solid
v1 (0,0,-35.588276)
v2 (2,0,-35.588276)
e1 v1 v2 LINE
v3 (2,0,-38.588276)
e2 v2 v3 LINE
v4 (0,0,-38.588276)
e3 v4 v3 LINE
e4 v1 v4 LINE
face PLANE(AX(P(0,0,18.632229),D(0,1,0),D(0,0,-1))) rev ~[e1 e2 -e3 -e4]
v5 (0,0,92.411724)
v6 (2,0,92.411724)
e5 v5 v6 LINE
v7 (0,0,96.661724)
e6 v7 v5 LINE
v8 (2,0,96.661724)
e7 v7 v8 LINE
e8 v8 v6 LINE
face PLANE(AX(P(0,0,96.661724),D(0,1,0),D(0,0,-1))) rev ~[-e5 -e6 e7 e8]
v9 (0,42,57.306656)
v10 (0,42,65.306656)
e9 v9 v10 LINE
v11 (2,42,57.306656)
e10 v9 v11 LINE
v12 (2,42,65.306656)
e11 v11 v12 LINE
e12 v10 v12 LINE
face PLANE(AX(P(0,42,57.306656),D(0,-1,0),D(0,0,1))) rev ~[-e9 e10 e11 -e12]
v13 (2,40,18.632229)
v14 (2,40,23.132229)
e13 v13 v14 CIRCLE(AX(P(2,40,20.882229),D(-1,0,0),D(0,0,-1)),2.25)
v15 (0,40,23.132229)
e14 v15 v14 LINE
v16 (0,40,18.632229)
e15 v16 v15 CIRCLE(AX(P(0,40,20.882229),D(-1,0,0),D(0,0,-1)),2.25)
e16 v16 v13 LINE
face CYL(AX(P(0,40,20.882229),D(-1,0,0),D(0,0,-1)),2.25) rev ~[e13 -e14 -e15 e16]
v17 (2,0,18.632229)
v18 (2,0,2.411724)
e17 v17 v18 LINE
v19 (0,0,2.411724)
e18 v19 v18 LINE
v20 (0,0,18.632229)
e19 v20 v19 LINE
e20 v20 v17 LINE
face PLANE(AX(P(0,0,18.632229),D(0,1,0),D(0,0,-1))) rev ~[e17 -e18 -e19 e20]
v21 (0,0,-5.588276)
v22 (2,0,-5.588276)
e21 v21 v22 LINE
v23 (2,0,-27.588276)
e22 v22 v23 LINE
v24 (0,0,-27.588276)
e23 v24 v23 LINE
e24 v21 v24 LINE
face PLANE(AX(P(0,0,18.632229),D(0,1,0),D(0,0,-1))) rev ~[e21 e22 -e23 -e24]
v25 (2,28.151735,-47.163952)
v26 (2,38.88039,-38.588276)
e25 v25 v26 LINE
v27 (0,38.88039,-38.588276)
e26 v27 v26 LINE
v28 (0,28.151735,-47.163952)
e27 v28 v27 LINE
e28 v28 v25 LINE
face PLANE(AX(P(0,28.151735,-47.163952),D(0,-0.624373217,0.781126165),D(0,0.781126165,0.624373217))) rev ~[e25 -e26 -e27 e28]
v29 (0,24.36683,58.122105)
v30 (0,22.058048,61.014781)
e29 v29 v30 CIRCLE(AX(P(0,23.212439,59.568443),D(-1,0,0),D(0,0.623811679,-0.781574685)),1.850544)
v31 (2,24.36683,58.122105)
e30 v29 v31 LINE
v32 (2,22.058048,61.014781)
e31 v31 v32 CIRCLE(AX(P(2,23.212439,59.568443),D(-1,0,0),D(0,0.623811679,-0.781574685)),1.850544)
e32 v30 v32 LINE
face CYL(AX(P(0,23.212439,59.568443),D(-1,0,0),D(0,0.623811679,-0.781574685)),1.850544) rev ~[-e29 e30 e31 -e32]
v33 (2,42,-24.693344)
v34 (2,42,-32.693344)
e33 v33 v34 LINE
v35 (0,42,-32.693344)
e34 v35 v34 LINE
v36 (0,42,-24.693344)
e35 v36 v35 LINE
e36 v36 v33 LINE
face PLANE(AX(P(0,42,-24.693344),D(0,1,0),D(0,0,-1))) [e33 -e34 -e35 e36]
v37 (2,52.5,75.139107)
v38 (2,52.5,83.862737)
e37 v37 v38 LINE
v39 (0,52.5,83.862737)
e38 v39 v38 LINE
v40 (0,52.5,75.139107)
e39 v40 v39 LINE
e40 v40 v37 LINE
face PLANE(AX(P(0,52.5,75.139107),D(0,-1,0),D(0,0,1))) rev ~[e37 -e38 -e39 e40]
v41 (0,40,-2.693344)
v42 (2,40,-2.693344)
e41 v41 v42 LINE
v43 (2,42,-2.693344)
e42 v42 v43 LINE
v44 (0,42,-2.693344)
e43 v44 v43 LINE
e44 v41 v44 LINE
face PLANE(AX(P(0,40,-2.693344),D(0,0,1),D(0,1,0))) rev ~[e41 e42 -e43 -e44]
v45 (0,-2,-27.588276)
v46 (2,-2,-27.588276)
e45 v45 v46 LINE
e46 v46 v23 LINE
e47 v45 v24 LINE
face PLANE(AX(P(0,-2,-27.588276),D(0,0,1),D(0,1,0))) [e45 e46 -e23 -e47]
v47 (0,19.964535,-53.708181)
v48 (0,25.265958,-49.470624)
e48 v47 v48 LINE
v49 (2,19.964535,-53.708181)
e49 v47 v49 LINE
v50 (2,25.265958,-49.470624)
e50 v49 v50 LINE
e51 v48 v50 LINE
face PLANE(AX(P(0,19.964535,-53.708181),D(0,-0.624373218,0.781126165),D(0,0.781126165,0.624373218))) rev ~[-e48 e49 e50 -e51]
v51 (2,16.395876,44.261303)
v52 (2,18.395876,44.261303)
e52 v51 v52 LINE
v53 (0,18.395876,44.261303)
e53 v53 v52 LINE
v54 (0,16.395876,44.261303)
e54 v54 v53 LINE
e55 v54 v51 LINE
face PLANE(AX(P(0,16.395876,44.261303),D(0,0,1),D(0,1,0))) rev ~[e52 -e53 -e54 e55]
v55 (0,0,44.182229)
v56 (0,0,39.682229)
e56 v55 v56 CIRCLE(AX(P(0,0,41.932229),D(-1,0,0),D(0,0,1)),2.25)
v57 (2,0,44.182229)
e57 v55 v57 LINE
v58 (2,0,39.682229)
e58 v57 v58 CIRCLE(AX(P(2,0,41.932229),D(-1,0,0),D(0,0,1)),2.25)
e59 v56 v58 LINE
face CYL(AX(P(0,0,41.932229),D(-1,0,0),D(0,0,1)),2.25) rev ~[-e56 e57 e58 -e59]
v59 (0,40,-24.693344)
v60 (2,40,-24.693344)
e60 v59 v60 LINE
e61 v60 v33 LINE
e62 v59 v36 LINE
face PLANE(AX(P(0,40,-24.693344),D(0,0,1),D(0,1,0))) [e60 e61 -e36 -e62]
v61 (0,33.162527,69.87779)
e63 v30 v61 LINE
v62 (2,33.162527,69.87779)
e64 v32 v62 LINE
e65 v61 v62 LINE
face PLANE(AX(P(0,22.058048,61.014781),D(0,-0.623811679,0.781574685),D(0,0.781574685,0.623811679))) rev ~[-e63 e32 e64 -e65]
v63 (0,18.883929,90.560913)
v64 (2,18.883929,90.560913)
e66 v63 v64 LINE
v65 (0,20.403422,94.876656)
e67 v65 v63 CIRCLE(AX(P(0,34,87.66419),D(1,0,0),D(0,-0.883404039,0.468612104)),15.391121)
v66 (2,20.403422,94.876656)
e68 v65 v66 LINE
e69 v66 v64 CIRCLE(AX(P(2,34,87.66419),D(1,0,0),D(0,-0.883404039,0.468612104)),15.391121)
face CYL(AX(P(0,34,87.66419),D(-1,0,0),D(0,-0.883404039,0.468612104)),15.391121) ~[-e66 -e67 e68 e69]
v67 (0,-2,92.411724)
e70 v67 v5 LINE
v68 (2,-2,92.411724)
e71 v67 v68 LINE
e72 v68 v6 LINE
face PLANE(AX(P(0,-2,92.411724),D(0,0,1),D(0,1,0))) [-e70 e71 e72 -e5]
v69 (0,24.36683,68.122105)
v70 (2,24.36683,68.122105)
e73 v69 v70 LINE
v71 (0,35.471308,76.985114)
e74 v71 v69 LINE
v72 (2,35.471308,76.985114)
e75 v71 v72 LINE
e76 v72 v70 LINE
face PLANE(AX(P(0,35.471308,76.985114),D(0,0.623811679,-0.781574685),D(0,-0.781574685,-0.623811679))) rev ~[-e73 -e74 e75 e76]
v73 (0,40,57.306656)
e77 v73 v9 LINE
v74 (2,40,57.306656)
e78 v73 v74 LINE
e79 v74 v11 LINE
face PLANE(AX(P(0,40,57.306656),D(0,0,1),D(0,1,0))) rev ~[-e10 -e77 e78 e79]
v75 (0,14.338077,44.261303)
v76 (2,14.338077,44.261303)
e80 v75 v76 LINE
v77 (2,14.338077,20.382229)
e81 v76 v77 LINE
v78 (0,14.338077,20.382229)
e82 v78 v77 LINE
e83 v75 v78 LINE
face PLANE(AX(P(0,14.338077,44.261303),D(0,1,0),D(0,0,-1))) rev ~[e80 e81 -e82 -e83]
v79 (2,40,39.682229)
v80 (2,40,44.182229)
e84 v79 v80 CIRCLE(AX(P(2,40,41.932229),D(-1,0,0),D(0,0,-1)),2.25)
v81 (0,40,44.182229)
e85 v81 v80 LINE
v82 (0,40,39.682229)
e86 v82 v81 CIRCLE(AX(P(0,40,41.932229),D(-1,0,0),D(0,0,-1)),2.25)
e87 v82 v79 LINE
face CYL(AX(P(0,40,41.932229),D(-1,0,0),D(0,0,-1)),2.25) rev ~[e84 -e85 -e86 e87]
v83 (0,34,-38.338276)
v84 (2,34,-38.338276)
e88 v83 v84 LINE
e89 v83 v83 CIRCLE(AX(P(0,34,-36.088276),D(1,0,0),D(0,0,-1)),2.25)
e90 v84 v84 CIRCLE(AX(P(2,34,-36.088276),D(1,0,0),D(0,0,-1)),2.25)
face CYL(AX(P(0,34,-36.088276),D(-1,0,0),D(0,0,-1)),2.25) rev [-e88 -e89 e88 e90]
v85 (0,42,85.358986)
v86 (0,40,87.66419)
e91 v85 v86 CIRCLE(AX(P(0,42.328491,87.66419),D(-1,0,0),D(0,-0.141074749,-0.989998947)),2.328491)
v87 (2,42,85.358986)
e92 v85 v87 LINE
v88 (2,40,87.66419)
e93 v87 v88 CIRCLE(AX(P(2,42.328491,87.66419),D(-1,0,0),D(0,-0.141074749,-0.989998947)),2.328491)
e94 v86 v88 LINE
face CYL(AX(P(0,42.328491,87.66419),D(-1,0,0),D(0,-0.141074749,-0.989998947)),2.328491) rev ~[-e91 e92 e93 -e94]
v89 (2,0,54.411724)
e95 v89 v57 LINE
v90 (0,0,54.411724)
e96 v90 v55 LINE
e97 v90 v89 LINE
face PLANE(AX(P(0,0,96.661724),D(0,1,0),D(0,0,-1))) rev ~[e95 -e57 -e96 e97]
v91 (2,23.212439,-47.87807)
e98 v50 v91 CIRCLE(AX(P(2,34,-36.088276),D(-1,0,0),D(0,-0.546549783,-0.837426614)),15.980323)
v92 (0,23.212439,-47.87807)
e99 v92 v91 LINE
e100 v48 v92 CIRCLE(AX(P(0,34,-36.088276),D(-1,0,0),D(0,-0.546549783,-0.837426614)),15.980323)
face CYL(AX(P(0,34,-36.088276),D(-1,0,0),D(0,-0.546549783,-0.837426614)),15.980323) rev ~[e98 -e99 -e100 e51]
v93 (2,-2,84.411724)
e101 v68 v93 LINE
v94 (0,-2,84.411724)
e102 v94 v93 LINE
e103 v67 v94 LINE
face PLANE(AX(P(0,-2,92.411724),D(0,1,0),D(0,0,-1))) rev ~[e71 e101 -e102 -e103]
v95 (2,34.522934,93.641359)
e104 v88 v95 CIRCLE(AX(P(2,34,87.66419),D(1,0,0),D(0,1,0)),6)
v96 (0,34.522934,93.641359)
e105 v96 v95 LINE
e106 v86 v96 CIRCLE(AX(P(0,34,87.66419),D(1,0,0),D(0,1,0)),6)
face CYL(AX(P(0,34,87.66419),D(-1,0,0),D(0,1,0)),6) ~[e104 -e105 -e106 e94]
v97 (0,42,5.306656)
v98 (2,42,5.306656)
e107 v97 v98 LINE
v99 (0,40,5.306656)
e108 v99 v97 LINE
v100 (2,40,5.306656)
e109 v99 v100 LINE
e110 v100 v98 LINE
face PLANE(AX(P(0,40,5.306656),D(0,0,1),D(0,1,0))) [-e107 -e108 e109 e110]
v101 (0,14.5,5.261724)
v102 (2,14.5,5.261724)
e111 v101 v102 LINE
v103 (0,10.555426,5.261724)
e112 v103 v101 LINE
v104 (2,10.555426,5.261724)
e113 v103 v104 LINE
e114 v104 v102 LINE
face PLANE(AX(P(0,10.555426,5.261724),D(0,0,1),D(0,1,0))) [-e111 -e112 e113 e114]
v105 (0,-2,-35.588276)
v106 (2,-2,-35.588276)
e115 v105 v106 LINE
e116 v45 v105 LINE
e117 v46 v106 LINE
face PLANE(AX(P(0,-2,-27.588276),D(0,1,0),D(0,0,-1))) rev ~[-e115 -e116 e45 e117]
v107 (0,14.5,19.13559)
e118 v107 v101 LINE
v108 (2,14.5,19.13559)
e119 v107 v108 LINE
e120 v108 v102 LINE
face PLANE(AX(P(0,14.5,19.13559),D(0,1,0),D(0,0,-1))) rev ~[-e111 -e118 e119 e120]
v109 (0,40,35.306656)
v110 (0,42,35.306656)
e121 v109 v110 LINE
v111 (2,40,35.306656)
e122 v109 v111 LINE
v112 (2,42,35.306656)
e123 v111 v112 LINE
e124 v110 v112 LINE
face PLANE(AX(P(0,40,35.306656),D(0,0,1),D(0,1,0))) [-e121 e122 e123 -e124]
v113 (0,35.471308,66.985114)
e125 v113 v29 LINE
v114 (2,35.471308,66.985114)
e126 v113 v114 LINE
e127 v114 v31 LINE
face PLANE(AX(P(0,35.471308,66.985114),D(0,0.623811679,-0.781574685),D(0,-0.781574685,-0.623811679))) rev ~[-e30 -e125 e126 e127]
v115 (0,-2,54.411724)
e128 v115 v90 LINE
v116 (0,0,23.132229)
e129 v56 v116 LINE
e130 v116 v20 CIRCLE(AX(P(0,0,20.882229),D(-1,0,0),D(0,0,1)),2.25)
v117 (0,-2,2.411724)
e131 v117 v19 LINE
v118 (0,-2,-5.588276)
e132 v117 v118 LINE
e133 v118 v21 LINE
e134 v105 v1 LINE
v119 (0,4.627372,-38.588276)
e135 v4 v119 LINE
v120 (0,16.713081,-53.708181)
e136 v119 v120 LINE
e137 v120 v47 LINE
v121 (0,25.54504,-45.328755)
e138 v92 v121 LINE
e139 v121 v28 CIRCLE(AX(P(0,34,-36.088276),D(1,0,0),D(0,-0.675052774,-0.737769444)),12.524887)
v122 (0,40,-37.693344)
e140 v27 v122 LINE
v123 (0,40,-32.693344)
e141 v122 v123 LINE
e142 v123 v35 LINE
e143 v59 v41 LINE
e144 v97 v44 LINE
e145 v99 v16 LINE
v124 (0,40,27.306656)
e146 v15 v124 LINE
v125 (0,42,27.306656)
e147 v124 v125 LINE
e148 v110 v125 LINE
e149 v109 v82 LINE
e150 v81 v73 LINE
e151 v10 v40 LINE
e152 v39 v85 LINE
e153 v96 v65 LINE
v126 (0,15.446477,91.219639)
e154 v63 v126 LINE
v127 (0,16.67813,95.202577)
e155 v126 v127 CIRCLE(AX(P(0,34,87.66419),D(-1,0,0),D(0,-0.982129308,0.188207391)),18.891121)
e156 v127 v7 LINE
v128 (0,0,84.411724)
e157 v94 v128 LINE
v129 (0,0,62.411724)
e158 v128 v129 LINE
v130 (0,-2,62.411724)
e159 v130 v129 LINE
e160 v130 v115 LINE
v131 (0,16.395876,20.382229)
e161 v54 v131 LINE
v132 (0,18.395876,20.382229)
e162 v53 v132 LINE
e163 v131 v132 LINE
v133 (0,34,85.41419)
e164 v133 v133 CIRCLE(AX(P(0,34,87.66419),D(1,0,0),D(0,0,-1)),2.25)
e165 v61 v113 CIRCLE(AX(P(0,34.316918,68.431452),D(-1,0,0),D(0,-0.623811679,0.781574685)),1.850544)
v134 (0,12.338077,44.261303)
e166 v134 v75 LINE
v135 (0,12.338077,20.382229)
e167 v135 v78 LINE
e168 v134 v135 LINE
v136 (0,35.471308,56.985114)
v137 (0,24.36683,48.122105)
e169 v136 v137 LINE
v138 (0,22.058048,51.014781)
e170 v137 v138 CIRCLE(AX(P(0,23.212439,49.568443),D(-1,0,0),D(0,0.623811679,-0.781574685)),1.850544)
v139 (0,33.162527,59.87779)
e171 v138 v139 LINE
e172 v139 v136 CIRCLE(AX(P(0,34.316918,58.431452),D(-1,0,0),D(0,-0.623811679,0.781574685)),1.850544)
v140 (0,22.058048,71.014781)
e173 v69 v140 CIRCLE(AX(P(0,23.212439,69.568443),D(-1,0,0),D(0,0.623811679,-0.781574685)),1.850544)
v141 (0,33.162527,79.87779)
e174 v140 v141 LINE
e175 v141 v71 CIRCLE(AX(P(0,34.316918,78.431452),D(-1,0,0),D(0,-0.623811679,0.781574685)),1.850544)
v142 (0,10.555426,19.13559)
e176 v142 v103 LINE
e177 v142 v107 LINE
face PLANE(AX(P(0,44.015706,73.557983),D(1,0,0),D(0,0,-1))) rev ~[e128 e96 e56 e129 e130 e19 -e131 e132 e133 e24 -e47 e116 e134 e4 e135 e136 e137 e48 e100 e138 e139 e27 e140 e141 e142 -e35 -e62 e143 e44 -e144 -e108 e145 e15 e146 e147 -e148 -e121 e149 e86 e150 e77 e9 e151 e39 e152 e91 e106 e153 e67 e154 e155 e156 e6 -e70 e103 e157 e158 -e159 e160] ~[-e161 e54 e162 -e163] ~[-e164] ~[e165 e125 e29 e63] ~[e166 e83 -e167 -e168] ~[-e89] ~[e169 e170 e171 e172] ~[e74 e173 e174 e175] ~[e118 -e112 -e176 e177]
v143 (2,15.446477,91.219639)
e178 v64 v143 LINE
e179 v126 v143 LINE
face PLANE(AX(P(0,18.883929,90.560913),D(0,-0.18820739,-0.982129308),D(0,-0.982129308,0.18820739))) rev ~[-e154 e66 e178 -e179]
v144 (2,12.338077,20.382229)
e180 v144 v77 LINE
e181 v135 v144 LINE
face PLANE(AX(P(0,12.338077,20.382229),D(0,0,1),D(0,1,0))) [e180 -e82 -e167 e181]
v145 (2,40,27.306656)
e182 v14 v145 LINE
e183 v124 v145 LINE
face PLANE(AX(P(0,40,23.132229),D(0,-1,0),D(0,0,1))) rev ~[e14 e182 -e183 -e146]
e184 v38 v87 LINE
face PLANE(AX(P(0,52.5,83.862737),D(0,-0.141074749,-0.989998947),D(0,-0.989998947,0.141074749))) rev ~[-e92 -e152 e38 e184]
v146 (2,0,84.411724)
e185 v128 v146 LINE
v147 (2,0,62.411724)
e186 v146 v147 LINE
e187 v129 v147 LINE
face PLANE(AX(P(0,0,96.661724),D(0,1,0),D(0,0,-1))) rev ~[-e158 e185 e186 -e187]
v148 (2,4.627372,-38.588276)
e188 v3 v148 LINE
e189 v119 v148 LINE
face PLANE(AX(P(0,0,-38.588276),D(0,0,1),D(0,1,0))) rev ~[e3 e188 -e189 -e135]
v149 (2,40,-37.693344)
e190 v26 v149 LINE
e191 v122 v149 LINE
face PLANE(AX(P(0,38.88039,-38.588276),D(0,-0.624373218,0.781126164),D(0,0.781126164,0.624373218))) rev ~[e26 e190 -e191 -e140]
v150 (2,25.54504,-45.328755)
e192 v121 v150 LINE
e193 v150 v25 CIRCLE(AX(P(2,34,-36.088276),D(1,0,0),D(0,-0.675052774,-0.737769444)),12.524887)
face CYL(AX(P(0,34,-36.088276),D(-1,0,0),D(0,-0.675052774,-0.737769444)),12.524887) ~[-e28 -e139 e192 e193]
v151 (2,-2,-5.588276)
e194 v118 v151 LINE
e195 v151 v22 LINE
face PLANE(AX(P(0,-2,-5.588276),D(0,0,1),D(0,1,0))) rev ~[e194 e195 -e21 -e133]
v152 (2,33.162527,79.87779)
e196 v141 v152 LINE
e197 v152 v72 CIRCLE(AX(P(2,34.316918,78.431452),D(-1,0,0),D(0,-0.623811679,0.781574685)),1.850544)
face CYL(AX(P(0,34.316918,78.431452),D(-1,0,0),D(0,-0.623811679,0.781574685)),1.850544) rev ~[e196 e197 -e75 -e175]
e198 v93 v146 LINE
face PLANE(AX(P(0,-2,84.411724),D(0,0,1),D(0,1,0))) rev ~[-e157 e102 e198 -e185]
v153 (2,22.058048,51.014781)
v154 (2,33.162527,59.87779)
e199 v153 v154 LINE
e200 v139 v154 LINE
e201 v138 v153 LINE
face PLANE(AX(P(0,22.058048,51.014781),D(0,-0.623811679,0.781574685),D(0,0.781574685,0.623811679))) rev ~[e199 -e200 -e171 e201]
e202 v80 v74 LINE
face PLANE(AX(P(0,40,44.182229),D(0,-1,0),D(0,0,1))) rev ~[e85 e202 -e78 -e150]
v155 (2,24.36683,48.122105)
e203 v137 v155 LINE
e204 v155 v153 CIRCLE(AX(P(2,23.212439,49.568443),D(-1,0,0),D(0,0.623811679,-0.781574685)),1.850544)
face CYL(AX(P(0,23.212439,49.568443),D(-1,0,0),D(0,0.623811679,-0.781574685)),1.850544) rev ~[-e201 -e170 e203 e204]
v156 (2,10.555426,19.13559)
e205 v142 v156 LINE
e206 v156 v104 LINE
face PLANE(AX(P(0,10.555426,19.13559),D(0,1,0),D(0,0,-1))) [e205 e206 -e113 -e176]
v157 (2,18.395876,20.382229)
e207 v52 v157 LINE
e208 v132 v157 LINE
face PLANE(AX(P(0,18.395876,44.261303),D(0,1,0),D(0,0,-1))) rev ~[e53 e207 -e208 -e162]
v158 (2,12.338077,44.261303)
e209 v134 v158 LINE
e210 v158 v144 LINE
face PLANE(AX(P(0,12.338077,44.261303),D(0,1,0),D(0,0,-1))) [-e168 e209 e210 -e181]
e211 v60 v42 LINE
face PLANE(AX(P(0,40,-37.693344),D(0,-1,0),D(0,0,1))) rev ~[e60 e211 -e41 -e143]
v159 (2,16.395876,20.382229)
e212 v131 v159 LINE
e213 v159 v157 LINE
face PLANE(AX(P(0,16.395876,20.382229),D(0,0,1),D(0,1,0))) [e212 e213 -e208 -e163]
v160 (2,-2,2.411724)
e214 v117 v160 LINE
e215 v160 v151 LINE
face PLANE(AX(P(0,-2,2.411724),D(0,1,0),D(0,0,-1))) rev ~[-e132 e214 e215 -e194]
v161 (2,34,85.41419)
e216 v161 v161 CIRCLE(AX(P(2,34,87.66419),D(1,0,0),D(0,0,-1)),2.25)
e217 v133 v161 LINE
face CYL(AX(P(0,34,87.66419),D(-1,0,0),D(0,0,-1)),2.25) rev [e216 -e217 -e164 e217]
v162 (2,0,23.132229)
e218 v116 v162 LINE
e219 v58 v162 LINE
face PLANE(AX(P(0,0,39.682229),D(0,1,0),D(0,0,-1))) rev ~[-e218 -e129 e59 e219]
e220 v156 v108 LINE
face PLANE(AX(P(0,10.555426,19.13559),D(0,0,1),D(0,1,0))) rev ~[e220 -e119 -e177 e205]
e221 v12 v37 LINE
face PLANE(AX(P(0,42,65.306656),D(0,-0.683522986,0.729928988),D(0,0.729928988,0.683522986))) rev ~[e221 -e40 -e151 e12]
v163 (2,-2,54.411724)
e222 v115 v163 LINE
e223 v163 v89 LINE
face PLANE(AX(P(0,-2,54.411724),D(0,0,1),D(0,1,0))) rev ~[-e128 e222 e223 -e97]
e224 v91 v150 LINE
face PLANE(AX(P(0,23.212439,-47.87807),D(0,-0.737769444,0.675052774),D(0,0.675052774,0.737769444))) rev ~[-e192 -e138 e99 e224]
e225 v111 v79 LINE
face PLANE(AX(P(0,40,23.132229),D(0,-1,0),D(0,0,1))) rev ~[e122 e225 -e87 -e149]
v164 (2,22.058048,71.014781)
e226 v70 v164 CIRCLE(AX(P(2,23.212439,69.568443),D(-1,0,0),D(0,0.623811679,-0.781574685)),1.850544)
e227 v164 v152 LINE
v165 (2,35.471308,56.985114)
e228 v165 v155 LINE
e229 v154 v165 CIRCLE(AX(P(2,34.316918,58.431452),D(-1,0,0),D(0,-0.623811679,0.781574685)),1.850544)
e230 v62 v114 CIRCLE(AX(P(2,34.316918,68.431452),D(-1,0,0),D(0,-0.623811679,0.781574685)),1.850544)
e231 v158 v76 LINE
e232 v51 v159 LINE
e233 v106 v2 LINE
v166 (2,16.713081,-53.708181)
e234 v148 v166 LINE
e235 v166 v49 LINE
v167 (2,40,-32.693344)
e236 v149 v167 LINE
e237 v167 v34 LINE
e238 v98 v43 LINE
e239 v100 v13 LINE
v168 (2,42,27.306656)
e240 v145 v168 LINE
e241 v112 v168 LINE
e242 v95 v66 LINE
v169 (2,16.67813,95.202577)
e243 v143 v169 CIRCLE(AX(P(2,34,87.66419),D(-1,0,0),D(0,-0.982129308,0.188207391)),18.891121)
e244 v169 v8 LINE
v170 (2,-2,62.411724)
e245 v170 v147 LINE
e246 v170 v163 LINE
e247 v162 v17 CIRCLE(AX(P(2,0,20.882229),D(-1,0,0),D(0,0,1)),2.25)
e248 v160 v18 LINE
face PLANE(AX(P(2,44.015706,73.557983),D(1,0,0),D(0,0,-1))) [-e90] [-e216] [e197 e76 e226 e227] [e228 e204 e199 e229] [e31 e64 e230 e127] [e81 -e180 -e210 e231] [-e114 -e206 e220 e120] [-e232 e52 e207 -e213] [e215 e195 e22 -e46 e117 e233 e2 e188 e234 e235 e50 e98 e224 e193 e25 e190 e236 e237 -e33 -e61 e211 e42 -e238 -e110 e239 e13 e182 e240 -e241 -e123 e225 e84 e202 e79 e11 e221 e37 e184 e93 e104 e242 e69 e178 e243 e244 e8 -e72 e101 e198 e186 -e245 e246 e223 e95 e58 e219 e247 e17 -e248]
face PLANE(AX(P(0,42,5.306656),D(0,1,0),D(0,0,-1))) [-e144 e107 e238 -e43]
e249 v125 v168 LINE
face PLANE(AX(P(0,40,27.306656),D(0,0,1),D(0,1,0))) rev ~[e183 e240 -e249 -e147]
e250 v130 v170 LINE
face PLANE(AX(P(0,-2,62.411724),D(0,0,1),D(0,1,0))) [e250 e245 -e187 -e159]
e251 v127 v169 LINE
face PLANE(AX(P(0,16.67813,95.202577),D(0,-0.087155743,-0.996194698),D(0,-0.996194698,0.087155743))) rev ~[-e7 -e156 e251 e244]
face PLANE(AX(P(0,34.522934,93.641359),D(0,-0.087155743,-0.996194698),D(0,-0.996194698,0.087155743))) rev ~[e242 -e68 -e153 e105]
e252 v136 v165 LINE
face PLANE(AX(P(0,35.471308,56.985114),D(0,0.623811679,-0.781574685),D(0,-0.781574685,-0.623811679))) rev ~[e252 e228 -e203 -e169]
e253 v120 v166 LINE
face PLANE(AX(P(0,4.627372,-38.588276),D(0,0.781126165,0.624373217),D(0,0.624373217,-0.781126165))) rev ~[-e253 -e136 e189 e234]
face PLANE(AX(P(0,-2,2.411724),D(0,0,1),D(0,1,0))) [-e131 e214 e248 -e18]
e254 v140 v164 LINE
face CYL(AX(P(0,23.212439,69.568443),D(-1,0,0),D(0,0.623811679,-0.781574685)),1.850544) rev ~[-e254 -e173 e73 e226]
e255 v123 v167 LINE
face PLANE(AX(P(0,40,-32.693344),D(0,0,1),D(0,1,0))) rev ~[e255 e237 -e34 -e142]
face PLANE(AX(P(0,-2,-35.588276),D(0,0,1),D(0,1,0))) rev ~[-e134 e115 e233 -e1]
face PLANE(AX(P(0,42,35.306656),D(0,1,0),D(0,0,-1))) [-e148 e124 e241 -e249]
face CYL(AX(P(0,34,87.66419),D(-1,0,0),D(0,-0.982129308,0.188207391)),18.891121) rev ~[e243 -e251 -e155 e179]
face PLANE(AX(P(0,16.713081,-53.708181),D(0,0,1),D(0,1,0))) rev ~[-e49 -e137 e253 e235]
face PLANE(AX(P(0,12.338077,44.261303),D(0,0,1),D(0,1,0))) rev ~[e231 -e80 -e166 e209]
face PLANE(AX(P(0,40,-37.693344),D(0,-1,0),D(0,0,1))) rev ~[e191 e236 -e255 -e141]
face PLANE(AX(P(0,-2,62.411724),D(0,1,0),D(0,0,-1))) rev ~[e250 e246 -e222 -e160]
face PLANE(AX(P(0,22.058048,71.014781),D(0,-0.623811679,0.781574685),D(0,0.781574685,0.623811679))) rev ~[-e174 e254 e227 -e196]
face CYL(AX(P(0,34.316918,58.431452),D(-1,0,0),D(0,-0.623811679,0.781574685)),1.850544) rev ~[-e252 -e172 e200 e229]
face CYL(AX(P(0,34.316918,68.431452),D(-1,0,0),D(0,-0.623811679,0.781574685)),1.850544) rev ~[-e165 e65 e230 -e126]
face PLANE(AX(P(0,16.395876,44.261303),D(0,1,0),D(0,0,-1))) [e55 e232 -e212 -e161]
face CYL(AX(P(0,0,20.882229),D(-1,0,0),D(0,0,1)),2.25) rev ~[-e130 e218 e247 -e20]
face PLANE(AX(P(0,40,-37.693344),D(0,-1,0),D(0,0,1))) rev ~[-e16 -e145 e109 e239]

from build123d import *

# Parameters (mm, degrees)
SKETCH_194_W       = 23.879073069
SKETCH_194_H       = 2
SKETCH_194_W_2     = 13.873866224
SKETCH_194_H_2     = 3.944574251
SKETCH_194_R       = 2.25
EXTRUDE_1_DEPTH    = 2
SKETCH_2_W         = 8
SKETCH_2_H         = 2
EXTRUDE_3672_DEPTH = 2


with BuildPart() as part:
    # Sketch 194 → 凸台-拉伸1 (new body)
    with BuildSketch(Plane(origin=(0, 0, 0), x_dir=(0, 0, -1), z_dir=(1, 0, 0))):
        with BuildLine():
            Line((-95.202576637, 16.678130112), (-96.66172395, 0))
            Line((-96.66172395, 0), (-44.182229478, 0))
            ThreePointArc((-44.182229478, 0), (-41.932229478, 2.25), (-39.682229478, 0))
            Line((-39.682229478, 0), (-23.132229478, 0))
            ThreePointArc((-23.132229478, 0), (-20.882229478, 2.25), (-18.632229478, 0))
            Line((-18.632229478, 0), (38.58827605, 0))
            Line((38.58827605, 0), (38.58827605, 4.627371722))
            Line((38.58827605, 4.627371722), (53.708180549, 16.713080595))
            Line((53.708180549, 16.713080595), (53.708180549, 19.964535026))
            Line((53.708180549, 19.964535026), (49.47062371, 25.265958003))
            ThreePointArc((49.47062371, 25.265958003), (48.71615842, 24.206772475), (47.878069959, 23.212438733))
            Line((47.878069959, 23.212438733), (45.32875497, 25.545040291))
            ThreePointArc((45.32875497, 25.545040291), (46.329625978, 26.78976103), (47.163951689, 28.151735001))
            Line((47.163951689, 28.151735001), (38.58827605, 38.88038965))
            Line((38.58827605, 38.88038965), (37.693344157, 40))
            Line((37.693344157, 40), (-18.632229478, 40))
            ThreePointArc((-18.632229478, 40), (-20.882229478, 37.75), (-23.132229478, 40))
            Line((-23.132229478, 40), (-39.682229478, 40))
            ThreePointArc((-39.682229478, 40), (-41.932229478, 37.75), (-44.182229478, 40))
            Line((-44.182229478, 40), (-87.664190365, 40))
            ThreePointArc((-87.664190365, 40), (-91.717731611, 38.423664021), (-93.641358554, 34.522934456))
            Line((-93.641358554, 34.522934456), (-94.87665585, 20.403421746))
            ThreePointArc((-94.87665585, 20.403421746), (-92.775563539, 19.482408503), (-90.560913042, 18.883929203))
            Line((-90.560913042, 18.883929203), (-91.219638908, 15.446476624))
            ThreePointArc((-91.219638908, 15.446476624), (-93.245188063, 15.952094064), (-95.202576637, 16.678130112))
        make_face()
        with Locations((-32.321766012, 13.338077)):
            Rectangle(SKETCH_194_W, SKETCH_194_H, mode=Mode.SUBTRACT)
        with Locations((-32.321766012, 17.395875517)):
            Rectangle(SKETCH_194_W, SKETCH_194_H, mode=Mode.SUBTRACT)
        with Locations((-12.198657062, 12.527713279)):
            Rectangle(SKETCH_194_W_2, SKETCH_194_H_2, mode=Mode.SUBTRACT)
        with BuildLine():
            ThreePointArc((-68.122104991, 24.366829507), (-68.414052328, 21.766100622), (-71.014781213, 22.058047959))
            Line((-71.014781213, 22.058047959), (-79.877790346, 33.162526768))
            ThreePointArc((-79.877790346, 33.162526768), (-79.585843009, 35.763255653), (-76.985114123, 35.471308316))
            Line((-76.985114123, 35.471308316), (-68.122104991, 24.366829507))
        make_face(mode=Mode.SUBTRACT)
        with BuildLine():
            ThreePointArc((-58.122104991, 24.366829507), (-58.414052328, 21.766100622), (-61.014781213, 22.058047959))
            Line((-61.014781213, 22.058047959), (-69.877790346, 33.162526768))
            ThreePointArc((-69.877790346, 33.162526768), (-69.585843009, 35.763255653), (-66.985114123, 35.471308316))
            Line((-66.985114123, 35.471308316), (-58.122104991, 24.366829507))
        make_face(mode=Mode.SUBTRACT)
        with BuildLine():
            ThreePointArc((-48.122104991, 24.366829507), (-48.414052328, 21.766100622), (-51.014781213, 22.058047959))
            Line((-51.014781213, 22.058047959), (-59.877790346, 33.162526768))
            ThreePointArc((-59.877790346, 33.162526768), (-59.585843009, 35.763255653), (-56.985114123, 35.471308316))
            Line((-56.985114123, 35.471308316), (-48.122104991, 24.366829507))
        make_face(mode=Mode.SUBTRACT)
        with Locations((-87.664190365, 34)):
            Circle(SKETCH_194_R, mode=Mode.SUBTRACT)
        with Locations((36.08827605, 34)):
            Circle(SKETCH_194_R, mode=Mode.SUBTRACT)
    extrude(amount=EXTRUDE_1_DEPTH)

    # 草图2 → Extrude 3672 (add)
    with BuildSketch(Plane(origin=(0, 0, 0), x_dir=(0, 0, -1), z_dir=(1, 0, 0))):
        with Locations((31.58827605, -1)):
            Rectangle(SKETCH_2_W, SKETCH_2_H)
        with BuildLine():
            Line((-83.862737476, 52.5), (-85.358986401, 42))
            ThreePointArc((-85.358986401, 42), (-86.138250874, 40.569690448), (-87.664190365, 40))
            Line((-87.664190365, 40), (-65.306655843, 40))
            Line((-65.306655843, 40), (-57.306655843, 40))
            Line((-57.306655843, 40), (-57.306655843, 42))
            Line((-57.306655843, 42), (-65.306655843, 42))
            Line((-65.306655843, 42), (-75.139107316, 52.5))
            Line((-75.139107316, 52.5), (-83.862737476, 52.5))
        make_face()
        with Locations((1.58827605, -1)):
            Rectangle(SKETCH_2_W, SKETCH_2_H)
        with Locations((-58.41172395, -1)):
            Rectangle(SKETCH_2_W, SKETCH_2_H)
        with Locations((-88.41172395, -1)):
            Rectangle(SKETCH_2_W, SKETCH_2_H)
        with Locations((28.693344157, 41)):
            Rectangle(SKETCH_2_W, SKETCH_2_H)
        with Locations((-1.306655843, 41)):
            Rectangle(SKETCH_2_W, SKETCH_2_H)
        with Locations((-31.306655843, 41)):
            Rectangle(SKETCH_2_W, SKETCH_2_H)
    extrude(amount=EXTRUDE_3672_DEPTH)


solid = part.part
